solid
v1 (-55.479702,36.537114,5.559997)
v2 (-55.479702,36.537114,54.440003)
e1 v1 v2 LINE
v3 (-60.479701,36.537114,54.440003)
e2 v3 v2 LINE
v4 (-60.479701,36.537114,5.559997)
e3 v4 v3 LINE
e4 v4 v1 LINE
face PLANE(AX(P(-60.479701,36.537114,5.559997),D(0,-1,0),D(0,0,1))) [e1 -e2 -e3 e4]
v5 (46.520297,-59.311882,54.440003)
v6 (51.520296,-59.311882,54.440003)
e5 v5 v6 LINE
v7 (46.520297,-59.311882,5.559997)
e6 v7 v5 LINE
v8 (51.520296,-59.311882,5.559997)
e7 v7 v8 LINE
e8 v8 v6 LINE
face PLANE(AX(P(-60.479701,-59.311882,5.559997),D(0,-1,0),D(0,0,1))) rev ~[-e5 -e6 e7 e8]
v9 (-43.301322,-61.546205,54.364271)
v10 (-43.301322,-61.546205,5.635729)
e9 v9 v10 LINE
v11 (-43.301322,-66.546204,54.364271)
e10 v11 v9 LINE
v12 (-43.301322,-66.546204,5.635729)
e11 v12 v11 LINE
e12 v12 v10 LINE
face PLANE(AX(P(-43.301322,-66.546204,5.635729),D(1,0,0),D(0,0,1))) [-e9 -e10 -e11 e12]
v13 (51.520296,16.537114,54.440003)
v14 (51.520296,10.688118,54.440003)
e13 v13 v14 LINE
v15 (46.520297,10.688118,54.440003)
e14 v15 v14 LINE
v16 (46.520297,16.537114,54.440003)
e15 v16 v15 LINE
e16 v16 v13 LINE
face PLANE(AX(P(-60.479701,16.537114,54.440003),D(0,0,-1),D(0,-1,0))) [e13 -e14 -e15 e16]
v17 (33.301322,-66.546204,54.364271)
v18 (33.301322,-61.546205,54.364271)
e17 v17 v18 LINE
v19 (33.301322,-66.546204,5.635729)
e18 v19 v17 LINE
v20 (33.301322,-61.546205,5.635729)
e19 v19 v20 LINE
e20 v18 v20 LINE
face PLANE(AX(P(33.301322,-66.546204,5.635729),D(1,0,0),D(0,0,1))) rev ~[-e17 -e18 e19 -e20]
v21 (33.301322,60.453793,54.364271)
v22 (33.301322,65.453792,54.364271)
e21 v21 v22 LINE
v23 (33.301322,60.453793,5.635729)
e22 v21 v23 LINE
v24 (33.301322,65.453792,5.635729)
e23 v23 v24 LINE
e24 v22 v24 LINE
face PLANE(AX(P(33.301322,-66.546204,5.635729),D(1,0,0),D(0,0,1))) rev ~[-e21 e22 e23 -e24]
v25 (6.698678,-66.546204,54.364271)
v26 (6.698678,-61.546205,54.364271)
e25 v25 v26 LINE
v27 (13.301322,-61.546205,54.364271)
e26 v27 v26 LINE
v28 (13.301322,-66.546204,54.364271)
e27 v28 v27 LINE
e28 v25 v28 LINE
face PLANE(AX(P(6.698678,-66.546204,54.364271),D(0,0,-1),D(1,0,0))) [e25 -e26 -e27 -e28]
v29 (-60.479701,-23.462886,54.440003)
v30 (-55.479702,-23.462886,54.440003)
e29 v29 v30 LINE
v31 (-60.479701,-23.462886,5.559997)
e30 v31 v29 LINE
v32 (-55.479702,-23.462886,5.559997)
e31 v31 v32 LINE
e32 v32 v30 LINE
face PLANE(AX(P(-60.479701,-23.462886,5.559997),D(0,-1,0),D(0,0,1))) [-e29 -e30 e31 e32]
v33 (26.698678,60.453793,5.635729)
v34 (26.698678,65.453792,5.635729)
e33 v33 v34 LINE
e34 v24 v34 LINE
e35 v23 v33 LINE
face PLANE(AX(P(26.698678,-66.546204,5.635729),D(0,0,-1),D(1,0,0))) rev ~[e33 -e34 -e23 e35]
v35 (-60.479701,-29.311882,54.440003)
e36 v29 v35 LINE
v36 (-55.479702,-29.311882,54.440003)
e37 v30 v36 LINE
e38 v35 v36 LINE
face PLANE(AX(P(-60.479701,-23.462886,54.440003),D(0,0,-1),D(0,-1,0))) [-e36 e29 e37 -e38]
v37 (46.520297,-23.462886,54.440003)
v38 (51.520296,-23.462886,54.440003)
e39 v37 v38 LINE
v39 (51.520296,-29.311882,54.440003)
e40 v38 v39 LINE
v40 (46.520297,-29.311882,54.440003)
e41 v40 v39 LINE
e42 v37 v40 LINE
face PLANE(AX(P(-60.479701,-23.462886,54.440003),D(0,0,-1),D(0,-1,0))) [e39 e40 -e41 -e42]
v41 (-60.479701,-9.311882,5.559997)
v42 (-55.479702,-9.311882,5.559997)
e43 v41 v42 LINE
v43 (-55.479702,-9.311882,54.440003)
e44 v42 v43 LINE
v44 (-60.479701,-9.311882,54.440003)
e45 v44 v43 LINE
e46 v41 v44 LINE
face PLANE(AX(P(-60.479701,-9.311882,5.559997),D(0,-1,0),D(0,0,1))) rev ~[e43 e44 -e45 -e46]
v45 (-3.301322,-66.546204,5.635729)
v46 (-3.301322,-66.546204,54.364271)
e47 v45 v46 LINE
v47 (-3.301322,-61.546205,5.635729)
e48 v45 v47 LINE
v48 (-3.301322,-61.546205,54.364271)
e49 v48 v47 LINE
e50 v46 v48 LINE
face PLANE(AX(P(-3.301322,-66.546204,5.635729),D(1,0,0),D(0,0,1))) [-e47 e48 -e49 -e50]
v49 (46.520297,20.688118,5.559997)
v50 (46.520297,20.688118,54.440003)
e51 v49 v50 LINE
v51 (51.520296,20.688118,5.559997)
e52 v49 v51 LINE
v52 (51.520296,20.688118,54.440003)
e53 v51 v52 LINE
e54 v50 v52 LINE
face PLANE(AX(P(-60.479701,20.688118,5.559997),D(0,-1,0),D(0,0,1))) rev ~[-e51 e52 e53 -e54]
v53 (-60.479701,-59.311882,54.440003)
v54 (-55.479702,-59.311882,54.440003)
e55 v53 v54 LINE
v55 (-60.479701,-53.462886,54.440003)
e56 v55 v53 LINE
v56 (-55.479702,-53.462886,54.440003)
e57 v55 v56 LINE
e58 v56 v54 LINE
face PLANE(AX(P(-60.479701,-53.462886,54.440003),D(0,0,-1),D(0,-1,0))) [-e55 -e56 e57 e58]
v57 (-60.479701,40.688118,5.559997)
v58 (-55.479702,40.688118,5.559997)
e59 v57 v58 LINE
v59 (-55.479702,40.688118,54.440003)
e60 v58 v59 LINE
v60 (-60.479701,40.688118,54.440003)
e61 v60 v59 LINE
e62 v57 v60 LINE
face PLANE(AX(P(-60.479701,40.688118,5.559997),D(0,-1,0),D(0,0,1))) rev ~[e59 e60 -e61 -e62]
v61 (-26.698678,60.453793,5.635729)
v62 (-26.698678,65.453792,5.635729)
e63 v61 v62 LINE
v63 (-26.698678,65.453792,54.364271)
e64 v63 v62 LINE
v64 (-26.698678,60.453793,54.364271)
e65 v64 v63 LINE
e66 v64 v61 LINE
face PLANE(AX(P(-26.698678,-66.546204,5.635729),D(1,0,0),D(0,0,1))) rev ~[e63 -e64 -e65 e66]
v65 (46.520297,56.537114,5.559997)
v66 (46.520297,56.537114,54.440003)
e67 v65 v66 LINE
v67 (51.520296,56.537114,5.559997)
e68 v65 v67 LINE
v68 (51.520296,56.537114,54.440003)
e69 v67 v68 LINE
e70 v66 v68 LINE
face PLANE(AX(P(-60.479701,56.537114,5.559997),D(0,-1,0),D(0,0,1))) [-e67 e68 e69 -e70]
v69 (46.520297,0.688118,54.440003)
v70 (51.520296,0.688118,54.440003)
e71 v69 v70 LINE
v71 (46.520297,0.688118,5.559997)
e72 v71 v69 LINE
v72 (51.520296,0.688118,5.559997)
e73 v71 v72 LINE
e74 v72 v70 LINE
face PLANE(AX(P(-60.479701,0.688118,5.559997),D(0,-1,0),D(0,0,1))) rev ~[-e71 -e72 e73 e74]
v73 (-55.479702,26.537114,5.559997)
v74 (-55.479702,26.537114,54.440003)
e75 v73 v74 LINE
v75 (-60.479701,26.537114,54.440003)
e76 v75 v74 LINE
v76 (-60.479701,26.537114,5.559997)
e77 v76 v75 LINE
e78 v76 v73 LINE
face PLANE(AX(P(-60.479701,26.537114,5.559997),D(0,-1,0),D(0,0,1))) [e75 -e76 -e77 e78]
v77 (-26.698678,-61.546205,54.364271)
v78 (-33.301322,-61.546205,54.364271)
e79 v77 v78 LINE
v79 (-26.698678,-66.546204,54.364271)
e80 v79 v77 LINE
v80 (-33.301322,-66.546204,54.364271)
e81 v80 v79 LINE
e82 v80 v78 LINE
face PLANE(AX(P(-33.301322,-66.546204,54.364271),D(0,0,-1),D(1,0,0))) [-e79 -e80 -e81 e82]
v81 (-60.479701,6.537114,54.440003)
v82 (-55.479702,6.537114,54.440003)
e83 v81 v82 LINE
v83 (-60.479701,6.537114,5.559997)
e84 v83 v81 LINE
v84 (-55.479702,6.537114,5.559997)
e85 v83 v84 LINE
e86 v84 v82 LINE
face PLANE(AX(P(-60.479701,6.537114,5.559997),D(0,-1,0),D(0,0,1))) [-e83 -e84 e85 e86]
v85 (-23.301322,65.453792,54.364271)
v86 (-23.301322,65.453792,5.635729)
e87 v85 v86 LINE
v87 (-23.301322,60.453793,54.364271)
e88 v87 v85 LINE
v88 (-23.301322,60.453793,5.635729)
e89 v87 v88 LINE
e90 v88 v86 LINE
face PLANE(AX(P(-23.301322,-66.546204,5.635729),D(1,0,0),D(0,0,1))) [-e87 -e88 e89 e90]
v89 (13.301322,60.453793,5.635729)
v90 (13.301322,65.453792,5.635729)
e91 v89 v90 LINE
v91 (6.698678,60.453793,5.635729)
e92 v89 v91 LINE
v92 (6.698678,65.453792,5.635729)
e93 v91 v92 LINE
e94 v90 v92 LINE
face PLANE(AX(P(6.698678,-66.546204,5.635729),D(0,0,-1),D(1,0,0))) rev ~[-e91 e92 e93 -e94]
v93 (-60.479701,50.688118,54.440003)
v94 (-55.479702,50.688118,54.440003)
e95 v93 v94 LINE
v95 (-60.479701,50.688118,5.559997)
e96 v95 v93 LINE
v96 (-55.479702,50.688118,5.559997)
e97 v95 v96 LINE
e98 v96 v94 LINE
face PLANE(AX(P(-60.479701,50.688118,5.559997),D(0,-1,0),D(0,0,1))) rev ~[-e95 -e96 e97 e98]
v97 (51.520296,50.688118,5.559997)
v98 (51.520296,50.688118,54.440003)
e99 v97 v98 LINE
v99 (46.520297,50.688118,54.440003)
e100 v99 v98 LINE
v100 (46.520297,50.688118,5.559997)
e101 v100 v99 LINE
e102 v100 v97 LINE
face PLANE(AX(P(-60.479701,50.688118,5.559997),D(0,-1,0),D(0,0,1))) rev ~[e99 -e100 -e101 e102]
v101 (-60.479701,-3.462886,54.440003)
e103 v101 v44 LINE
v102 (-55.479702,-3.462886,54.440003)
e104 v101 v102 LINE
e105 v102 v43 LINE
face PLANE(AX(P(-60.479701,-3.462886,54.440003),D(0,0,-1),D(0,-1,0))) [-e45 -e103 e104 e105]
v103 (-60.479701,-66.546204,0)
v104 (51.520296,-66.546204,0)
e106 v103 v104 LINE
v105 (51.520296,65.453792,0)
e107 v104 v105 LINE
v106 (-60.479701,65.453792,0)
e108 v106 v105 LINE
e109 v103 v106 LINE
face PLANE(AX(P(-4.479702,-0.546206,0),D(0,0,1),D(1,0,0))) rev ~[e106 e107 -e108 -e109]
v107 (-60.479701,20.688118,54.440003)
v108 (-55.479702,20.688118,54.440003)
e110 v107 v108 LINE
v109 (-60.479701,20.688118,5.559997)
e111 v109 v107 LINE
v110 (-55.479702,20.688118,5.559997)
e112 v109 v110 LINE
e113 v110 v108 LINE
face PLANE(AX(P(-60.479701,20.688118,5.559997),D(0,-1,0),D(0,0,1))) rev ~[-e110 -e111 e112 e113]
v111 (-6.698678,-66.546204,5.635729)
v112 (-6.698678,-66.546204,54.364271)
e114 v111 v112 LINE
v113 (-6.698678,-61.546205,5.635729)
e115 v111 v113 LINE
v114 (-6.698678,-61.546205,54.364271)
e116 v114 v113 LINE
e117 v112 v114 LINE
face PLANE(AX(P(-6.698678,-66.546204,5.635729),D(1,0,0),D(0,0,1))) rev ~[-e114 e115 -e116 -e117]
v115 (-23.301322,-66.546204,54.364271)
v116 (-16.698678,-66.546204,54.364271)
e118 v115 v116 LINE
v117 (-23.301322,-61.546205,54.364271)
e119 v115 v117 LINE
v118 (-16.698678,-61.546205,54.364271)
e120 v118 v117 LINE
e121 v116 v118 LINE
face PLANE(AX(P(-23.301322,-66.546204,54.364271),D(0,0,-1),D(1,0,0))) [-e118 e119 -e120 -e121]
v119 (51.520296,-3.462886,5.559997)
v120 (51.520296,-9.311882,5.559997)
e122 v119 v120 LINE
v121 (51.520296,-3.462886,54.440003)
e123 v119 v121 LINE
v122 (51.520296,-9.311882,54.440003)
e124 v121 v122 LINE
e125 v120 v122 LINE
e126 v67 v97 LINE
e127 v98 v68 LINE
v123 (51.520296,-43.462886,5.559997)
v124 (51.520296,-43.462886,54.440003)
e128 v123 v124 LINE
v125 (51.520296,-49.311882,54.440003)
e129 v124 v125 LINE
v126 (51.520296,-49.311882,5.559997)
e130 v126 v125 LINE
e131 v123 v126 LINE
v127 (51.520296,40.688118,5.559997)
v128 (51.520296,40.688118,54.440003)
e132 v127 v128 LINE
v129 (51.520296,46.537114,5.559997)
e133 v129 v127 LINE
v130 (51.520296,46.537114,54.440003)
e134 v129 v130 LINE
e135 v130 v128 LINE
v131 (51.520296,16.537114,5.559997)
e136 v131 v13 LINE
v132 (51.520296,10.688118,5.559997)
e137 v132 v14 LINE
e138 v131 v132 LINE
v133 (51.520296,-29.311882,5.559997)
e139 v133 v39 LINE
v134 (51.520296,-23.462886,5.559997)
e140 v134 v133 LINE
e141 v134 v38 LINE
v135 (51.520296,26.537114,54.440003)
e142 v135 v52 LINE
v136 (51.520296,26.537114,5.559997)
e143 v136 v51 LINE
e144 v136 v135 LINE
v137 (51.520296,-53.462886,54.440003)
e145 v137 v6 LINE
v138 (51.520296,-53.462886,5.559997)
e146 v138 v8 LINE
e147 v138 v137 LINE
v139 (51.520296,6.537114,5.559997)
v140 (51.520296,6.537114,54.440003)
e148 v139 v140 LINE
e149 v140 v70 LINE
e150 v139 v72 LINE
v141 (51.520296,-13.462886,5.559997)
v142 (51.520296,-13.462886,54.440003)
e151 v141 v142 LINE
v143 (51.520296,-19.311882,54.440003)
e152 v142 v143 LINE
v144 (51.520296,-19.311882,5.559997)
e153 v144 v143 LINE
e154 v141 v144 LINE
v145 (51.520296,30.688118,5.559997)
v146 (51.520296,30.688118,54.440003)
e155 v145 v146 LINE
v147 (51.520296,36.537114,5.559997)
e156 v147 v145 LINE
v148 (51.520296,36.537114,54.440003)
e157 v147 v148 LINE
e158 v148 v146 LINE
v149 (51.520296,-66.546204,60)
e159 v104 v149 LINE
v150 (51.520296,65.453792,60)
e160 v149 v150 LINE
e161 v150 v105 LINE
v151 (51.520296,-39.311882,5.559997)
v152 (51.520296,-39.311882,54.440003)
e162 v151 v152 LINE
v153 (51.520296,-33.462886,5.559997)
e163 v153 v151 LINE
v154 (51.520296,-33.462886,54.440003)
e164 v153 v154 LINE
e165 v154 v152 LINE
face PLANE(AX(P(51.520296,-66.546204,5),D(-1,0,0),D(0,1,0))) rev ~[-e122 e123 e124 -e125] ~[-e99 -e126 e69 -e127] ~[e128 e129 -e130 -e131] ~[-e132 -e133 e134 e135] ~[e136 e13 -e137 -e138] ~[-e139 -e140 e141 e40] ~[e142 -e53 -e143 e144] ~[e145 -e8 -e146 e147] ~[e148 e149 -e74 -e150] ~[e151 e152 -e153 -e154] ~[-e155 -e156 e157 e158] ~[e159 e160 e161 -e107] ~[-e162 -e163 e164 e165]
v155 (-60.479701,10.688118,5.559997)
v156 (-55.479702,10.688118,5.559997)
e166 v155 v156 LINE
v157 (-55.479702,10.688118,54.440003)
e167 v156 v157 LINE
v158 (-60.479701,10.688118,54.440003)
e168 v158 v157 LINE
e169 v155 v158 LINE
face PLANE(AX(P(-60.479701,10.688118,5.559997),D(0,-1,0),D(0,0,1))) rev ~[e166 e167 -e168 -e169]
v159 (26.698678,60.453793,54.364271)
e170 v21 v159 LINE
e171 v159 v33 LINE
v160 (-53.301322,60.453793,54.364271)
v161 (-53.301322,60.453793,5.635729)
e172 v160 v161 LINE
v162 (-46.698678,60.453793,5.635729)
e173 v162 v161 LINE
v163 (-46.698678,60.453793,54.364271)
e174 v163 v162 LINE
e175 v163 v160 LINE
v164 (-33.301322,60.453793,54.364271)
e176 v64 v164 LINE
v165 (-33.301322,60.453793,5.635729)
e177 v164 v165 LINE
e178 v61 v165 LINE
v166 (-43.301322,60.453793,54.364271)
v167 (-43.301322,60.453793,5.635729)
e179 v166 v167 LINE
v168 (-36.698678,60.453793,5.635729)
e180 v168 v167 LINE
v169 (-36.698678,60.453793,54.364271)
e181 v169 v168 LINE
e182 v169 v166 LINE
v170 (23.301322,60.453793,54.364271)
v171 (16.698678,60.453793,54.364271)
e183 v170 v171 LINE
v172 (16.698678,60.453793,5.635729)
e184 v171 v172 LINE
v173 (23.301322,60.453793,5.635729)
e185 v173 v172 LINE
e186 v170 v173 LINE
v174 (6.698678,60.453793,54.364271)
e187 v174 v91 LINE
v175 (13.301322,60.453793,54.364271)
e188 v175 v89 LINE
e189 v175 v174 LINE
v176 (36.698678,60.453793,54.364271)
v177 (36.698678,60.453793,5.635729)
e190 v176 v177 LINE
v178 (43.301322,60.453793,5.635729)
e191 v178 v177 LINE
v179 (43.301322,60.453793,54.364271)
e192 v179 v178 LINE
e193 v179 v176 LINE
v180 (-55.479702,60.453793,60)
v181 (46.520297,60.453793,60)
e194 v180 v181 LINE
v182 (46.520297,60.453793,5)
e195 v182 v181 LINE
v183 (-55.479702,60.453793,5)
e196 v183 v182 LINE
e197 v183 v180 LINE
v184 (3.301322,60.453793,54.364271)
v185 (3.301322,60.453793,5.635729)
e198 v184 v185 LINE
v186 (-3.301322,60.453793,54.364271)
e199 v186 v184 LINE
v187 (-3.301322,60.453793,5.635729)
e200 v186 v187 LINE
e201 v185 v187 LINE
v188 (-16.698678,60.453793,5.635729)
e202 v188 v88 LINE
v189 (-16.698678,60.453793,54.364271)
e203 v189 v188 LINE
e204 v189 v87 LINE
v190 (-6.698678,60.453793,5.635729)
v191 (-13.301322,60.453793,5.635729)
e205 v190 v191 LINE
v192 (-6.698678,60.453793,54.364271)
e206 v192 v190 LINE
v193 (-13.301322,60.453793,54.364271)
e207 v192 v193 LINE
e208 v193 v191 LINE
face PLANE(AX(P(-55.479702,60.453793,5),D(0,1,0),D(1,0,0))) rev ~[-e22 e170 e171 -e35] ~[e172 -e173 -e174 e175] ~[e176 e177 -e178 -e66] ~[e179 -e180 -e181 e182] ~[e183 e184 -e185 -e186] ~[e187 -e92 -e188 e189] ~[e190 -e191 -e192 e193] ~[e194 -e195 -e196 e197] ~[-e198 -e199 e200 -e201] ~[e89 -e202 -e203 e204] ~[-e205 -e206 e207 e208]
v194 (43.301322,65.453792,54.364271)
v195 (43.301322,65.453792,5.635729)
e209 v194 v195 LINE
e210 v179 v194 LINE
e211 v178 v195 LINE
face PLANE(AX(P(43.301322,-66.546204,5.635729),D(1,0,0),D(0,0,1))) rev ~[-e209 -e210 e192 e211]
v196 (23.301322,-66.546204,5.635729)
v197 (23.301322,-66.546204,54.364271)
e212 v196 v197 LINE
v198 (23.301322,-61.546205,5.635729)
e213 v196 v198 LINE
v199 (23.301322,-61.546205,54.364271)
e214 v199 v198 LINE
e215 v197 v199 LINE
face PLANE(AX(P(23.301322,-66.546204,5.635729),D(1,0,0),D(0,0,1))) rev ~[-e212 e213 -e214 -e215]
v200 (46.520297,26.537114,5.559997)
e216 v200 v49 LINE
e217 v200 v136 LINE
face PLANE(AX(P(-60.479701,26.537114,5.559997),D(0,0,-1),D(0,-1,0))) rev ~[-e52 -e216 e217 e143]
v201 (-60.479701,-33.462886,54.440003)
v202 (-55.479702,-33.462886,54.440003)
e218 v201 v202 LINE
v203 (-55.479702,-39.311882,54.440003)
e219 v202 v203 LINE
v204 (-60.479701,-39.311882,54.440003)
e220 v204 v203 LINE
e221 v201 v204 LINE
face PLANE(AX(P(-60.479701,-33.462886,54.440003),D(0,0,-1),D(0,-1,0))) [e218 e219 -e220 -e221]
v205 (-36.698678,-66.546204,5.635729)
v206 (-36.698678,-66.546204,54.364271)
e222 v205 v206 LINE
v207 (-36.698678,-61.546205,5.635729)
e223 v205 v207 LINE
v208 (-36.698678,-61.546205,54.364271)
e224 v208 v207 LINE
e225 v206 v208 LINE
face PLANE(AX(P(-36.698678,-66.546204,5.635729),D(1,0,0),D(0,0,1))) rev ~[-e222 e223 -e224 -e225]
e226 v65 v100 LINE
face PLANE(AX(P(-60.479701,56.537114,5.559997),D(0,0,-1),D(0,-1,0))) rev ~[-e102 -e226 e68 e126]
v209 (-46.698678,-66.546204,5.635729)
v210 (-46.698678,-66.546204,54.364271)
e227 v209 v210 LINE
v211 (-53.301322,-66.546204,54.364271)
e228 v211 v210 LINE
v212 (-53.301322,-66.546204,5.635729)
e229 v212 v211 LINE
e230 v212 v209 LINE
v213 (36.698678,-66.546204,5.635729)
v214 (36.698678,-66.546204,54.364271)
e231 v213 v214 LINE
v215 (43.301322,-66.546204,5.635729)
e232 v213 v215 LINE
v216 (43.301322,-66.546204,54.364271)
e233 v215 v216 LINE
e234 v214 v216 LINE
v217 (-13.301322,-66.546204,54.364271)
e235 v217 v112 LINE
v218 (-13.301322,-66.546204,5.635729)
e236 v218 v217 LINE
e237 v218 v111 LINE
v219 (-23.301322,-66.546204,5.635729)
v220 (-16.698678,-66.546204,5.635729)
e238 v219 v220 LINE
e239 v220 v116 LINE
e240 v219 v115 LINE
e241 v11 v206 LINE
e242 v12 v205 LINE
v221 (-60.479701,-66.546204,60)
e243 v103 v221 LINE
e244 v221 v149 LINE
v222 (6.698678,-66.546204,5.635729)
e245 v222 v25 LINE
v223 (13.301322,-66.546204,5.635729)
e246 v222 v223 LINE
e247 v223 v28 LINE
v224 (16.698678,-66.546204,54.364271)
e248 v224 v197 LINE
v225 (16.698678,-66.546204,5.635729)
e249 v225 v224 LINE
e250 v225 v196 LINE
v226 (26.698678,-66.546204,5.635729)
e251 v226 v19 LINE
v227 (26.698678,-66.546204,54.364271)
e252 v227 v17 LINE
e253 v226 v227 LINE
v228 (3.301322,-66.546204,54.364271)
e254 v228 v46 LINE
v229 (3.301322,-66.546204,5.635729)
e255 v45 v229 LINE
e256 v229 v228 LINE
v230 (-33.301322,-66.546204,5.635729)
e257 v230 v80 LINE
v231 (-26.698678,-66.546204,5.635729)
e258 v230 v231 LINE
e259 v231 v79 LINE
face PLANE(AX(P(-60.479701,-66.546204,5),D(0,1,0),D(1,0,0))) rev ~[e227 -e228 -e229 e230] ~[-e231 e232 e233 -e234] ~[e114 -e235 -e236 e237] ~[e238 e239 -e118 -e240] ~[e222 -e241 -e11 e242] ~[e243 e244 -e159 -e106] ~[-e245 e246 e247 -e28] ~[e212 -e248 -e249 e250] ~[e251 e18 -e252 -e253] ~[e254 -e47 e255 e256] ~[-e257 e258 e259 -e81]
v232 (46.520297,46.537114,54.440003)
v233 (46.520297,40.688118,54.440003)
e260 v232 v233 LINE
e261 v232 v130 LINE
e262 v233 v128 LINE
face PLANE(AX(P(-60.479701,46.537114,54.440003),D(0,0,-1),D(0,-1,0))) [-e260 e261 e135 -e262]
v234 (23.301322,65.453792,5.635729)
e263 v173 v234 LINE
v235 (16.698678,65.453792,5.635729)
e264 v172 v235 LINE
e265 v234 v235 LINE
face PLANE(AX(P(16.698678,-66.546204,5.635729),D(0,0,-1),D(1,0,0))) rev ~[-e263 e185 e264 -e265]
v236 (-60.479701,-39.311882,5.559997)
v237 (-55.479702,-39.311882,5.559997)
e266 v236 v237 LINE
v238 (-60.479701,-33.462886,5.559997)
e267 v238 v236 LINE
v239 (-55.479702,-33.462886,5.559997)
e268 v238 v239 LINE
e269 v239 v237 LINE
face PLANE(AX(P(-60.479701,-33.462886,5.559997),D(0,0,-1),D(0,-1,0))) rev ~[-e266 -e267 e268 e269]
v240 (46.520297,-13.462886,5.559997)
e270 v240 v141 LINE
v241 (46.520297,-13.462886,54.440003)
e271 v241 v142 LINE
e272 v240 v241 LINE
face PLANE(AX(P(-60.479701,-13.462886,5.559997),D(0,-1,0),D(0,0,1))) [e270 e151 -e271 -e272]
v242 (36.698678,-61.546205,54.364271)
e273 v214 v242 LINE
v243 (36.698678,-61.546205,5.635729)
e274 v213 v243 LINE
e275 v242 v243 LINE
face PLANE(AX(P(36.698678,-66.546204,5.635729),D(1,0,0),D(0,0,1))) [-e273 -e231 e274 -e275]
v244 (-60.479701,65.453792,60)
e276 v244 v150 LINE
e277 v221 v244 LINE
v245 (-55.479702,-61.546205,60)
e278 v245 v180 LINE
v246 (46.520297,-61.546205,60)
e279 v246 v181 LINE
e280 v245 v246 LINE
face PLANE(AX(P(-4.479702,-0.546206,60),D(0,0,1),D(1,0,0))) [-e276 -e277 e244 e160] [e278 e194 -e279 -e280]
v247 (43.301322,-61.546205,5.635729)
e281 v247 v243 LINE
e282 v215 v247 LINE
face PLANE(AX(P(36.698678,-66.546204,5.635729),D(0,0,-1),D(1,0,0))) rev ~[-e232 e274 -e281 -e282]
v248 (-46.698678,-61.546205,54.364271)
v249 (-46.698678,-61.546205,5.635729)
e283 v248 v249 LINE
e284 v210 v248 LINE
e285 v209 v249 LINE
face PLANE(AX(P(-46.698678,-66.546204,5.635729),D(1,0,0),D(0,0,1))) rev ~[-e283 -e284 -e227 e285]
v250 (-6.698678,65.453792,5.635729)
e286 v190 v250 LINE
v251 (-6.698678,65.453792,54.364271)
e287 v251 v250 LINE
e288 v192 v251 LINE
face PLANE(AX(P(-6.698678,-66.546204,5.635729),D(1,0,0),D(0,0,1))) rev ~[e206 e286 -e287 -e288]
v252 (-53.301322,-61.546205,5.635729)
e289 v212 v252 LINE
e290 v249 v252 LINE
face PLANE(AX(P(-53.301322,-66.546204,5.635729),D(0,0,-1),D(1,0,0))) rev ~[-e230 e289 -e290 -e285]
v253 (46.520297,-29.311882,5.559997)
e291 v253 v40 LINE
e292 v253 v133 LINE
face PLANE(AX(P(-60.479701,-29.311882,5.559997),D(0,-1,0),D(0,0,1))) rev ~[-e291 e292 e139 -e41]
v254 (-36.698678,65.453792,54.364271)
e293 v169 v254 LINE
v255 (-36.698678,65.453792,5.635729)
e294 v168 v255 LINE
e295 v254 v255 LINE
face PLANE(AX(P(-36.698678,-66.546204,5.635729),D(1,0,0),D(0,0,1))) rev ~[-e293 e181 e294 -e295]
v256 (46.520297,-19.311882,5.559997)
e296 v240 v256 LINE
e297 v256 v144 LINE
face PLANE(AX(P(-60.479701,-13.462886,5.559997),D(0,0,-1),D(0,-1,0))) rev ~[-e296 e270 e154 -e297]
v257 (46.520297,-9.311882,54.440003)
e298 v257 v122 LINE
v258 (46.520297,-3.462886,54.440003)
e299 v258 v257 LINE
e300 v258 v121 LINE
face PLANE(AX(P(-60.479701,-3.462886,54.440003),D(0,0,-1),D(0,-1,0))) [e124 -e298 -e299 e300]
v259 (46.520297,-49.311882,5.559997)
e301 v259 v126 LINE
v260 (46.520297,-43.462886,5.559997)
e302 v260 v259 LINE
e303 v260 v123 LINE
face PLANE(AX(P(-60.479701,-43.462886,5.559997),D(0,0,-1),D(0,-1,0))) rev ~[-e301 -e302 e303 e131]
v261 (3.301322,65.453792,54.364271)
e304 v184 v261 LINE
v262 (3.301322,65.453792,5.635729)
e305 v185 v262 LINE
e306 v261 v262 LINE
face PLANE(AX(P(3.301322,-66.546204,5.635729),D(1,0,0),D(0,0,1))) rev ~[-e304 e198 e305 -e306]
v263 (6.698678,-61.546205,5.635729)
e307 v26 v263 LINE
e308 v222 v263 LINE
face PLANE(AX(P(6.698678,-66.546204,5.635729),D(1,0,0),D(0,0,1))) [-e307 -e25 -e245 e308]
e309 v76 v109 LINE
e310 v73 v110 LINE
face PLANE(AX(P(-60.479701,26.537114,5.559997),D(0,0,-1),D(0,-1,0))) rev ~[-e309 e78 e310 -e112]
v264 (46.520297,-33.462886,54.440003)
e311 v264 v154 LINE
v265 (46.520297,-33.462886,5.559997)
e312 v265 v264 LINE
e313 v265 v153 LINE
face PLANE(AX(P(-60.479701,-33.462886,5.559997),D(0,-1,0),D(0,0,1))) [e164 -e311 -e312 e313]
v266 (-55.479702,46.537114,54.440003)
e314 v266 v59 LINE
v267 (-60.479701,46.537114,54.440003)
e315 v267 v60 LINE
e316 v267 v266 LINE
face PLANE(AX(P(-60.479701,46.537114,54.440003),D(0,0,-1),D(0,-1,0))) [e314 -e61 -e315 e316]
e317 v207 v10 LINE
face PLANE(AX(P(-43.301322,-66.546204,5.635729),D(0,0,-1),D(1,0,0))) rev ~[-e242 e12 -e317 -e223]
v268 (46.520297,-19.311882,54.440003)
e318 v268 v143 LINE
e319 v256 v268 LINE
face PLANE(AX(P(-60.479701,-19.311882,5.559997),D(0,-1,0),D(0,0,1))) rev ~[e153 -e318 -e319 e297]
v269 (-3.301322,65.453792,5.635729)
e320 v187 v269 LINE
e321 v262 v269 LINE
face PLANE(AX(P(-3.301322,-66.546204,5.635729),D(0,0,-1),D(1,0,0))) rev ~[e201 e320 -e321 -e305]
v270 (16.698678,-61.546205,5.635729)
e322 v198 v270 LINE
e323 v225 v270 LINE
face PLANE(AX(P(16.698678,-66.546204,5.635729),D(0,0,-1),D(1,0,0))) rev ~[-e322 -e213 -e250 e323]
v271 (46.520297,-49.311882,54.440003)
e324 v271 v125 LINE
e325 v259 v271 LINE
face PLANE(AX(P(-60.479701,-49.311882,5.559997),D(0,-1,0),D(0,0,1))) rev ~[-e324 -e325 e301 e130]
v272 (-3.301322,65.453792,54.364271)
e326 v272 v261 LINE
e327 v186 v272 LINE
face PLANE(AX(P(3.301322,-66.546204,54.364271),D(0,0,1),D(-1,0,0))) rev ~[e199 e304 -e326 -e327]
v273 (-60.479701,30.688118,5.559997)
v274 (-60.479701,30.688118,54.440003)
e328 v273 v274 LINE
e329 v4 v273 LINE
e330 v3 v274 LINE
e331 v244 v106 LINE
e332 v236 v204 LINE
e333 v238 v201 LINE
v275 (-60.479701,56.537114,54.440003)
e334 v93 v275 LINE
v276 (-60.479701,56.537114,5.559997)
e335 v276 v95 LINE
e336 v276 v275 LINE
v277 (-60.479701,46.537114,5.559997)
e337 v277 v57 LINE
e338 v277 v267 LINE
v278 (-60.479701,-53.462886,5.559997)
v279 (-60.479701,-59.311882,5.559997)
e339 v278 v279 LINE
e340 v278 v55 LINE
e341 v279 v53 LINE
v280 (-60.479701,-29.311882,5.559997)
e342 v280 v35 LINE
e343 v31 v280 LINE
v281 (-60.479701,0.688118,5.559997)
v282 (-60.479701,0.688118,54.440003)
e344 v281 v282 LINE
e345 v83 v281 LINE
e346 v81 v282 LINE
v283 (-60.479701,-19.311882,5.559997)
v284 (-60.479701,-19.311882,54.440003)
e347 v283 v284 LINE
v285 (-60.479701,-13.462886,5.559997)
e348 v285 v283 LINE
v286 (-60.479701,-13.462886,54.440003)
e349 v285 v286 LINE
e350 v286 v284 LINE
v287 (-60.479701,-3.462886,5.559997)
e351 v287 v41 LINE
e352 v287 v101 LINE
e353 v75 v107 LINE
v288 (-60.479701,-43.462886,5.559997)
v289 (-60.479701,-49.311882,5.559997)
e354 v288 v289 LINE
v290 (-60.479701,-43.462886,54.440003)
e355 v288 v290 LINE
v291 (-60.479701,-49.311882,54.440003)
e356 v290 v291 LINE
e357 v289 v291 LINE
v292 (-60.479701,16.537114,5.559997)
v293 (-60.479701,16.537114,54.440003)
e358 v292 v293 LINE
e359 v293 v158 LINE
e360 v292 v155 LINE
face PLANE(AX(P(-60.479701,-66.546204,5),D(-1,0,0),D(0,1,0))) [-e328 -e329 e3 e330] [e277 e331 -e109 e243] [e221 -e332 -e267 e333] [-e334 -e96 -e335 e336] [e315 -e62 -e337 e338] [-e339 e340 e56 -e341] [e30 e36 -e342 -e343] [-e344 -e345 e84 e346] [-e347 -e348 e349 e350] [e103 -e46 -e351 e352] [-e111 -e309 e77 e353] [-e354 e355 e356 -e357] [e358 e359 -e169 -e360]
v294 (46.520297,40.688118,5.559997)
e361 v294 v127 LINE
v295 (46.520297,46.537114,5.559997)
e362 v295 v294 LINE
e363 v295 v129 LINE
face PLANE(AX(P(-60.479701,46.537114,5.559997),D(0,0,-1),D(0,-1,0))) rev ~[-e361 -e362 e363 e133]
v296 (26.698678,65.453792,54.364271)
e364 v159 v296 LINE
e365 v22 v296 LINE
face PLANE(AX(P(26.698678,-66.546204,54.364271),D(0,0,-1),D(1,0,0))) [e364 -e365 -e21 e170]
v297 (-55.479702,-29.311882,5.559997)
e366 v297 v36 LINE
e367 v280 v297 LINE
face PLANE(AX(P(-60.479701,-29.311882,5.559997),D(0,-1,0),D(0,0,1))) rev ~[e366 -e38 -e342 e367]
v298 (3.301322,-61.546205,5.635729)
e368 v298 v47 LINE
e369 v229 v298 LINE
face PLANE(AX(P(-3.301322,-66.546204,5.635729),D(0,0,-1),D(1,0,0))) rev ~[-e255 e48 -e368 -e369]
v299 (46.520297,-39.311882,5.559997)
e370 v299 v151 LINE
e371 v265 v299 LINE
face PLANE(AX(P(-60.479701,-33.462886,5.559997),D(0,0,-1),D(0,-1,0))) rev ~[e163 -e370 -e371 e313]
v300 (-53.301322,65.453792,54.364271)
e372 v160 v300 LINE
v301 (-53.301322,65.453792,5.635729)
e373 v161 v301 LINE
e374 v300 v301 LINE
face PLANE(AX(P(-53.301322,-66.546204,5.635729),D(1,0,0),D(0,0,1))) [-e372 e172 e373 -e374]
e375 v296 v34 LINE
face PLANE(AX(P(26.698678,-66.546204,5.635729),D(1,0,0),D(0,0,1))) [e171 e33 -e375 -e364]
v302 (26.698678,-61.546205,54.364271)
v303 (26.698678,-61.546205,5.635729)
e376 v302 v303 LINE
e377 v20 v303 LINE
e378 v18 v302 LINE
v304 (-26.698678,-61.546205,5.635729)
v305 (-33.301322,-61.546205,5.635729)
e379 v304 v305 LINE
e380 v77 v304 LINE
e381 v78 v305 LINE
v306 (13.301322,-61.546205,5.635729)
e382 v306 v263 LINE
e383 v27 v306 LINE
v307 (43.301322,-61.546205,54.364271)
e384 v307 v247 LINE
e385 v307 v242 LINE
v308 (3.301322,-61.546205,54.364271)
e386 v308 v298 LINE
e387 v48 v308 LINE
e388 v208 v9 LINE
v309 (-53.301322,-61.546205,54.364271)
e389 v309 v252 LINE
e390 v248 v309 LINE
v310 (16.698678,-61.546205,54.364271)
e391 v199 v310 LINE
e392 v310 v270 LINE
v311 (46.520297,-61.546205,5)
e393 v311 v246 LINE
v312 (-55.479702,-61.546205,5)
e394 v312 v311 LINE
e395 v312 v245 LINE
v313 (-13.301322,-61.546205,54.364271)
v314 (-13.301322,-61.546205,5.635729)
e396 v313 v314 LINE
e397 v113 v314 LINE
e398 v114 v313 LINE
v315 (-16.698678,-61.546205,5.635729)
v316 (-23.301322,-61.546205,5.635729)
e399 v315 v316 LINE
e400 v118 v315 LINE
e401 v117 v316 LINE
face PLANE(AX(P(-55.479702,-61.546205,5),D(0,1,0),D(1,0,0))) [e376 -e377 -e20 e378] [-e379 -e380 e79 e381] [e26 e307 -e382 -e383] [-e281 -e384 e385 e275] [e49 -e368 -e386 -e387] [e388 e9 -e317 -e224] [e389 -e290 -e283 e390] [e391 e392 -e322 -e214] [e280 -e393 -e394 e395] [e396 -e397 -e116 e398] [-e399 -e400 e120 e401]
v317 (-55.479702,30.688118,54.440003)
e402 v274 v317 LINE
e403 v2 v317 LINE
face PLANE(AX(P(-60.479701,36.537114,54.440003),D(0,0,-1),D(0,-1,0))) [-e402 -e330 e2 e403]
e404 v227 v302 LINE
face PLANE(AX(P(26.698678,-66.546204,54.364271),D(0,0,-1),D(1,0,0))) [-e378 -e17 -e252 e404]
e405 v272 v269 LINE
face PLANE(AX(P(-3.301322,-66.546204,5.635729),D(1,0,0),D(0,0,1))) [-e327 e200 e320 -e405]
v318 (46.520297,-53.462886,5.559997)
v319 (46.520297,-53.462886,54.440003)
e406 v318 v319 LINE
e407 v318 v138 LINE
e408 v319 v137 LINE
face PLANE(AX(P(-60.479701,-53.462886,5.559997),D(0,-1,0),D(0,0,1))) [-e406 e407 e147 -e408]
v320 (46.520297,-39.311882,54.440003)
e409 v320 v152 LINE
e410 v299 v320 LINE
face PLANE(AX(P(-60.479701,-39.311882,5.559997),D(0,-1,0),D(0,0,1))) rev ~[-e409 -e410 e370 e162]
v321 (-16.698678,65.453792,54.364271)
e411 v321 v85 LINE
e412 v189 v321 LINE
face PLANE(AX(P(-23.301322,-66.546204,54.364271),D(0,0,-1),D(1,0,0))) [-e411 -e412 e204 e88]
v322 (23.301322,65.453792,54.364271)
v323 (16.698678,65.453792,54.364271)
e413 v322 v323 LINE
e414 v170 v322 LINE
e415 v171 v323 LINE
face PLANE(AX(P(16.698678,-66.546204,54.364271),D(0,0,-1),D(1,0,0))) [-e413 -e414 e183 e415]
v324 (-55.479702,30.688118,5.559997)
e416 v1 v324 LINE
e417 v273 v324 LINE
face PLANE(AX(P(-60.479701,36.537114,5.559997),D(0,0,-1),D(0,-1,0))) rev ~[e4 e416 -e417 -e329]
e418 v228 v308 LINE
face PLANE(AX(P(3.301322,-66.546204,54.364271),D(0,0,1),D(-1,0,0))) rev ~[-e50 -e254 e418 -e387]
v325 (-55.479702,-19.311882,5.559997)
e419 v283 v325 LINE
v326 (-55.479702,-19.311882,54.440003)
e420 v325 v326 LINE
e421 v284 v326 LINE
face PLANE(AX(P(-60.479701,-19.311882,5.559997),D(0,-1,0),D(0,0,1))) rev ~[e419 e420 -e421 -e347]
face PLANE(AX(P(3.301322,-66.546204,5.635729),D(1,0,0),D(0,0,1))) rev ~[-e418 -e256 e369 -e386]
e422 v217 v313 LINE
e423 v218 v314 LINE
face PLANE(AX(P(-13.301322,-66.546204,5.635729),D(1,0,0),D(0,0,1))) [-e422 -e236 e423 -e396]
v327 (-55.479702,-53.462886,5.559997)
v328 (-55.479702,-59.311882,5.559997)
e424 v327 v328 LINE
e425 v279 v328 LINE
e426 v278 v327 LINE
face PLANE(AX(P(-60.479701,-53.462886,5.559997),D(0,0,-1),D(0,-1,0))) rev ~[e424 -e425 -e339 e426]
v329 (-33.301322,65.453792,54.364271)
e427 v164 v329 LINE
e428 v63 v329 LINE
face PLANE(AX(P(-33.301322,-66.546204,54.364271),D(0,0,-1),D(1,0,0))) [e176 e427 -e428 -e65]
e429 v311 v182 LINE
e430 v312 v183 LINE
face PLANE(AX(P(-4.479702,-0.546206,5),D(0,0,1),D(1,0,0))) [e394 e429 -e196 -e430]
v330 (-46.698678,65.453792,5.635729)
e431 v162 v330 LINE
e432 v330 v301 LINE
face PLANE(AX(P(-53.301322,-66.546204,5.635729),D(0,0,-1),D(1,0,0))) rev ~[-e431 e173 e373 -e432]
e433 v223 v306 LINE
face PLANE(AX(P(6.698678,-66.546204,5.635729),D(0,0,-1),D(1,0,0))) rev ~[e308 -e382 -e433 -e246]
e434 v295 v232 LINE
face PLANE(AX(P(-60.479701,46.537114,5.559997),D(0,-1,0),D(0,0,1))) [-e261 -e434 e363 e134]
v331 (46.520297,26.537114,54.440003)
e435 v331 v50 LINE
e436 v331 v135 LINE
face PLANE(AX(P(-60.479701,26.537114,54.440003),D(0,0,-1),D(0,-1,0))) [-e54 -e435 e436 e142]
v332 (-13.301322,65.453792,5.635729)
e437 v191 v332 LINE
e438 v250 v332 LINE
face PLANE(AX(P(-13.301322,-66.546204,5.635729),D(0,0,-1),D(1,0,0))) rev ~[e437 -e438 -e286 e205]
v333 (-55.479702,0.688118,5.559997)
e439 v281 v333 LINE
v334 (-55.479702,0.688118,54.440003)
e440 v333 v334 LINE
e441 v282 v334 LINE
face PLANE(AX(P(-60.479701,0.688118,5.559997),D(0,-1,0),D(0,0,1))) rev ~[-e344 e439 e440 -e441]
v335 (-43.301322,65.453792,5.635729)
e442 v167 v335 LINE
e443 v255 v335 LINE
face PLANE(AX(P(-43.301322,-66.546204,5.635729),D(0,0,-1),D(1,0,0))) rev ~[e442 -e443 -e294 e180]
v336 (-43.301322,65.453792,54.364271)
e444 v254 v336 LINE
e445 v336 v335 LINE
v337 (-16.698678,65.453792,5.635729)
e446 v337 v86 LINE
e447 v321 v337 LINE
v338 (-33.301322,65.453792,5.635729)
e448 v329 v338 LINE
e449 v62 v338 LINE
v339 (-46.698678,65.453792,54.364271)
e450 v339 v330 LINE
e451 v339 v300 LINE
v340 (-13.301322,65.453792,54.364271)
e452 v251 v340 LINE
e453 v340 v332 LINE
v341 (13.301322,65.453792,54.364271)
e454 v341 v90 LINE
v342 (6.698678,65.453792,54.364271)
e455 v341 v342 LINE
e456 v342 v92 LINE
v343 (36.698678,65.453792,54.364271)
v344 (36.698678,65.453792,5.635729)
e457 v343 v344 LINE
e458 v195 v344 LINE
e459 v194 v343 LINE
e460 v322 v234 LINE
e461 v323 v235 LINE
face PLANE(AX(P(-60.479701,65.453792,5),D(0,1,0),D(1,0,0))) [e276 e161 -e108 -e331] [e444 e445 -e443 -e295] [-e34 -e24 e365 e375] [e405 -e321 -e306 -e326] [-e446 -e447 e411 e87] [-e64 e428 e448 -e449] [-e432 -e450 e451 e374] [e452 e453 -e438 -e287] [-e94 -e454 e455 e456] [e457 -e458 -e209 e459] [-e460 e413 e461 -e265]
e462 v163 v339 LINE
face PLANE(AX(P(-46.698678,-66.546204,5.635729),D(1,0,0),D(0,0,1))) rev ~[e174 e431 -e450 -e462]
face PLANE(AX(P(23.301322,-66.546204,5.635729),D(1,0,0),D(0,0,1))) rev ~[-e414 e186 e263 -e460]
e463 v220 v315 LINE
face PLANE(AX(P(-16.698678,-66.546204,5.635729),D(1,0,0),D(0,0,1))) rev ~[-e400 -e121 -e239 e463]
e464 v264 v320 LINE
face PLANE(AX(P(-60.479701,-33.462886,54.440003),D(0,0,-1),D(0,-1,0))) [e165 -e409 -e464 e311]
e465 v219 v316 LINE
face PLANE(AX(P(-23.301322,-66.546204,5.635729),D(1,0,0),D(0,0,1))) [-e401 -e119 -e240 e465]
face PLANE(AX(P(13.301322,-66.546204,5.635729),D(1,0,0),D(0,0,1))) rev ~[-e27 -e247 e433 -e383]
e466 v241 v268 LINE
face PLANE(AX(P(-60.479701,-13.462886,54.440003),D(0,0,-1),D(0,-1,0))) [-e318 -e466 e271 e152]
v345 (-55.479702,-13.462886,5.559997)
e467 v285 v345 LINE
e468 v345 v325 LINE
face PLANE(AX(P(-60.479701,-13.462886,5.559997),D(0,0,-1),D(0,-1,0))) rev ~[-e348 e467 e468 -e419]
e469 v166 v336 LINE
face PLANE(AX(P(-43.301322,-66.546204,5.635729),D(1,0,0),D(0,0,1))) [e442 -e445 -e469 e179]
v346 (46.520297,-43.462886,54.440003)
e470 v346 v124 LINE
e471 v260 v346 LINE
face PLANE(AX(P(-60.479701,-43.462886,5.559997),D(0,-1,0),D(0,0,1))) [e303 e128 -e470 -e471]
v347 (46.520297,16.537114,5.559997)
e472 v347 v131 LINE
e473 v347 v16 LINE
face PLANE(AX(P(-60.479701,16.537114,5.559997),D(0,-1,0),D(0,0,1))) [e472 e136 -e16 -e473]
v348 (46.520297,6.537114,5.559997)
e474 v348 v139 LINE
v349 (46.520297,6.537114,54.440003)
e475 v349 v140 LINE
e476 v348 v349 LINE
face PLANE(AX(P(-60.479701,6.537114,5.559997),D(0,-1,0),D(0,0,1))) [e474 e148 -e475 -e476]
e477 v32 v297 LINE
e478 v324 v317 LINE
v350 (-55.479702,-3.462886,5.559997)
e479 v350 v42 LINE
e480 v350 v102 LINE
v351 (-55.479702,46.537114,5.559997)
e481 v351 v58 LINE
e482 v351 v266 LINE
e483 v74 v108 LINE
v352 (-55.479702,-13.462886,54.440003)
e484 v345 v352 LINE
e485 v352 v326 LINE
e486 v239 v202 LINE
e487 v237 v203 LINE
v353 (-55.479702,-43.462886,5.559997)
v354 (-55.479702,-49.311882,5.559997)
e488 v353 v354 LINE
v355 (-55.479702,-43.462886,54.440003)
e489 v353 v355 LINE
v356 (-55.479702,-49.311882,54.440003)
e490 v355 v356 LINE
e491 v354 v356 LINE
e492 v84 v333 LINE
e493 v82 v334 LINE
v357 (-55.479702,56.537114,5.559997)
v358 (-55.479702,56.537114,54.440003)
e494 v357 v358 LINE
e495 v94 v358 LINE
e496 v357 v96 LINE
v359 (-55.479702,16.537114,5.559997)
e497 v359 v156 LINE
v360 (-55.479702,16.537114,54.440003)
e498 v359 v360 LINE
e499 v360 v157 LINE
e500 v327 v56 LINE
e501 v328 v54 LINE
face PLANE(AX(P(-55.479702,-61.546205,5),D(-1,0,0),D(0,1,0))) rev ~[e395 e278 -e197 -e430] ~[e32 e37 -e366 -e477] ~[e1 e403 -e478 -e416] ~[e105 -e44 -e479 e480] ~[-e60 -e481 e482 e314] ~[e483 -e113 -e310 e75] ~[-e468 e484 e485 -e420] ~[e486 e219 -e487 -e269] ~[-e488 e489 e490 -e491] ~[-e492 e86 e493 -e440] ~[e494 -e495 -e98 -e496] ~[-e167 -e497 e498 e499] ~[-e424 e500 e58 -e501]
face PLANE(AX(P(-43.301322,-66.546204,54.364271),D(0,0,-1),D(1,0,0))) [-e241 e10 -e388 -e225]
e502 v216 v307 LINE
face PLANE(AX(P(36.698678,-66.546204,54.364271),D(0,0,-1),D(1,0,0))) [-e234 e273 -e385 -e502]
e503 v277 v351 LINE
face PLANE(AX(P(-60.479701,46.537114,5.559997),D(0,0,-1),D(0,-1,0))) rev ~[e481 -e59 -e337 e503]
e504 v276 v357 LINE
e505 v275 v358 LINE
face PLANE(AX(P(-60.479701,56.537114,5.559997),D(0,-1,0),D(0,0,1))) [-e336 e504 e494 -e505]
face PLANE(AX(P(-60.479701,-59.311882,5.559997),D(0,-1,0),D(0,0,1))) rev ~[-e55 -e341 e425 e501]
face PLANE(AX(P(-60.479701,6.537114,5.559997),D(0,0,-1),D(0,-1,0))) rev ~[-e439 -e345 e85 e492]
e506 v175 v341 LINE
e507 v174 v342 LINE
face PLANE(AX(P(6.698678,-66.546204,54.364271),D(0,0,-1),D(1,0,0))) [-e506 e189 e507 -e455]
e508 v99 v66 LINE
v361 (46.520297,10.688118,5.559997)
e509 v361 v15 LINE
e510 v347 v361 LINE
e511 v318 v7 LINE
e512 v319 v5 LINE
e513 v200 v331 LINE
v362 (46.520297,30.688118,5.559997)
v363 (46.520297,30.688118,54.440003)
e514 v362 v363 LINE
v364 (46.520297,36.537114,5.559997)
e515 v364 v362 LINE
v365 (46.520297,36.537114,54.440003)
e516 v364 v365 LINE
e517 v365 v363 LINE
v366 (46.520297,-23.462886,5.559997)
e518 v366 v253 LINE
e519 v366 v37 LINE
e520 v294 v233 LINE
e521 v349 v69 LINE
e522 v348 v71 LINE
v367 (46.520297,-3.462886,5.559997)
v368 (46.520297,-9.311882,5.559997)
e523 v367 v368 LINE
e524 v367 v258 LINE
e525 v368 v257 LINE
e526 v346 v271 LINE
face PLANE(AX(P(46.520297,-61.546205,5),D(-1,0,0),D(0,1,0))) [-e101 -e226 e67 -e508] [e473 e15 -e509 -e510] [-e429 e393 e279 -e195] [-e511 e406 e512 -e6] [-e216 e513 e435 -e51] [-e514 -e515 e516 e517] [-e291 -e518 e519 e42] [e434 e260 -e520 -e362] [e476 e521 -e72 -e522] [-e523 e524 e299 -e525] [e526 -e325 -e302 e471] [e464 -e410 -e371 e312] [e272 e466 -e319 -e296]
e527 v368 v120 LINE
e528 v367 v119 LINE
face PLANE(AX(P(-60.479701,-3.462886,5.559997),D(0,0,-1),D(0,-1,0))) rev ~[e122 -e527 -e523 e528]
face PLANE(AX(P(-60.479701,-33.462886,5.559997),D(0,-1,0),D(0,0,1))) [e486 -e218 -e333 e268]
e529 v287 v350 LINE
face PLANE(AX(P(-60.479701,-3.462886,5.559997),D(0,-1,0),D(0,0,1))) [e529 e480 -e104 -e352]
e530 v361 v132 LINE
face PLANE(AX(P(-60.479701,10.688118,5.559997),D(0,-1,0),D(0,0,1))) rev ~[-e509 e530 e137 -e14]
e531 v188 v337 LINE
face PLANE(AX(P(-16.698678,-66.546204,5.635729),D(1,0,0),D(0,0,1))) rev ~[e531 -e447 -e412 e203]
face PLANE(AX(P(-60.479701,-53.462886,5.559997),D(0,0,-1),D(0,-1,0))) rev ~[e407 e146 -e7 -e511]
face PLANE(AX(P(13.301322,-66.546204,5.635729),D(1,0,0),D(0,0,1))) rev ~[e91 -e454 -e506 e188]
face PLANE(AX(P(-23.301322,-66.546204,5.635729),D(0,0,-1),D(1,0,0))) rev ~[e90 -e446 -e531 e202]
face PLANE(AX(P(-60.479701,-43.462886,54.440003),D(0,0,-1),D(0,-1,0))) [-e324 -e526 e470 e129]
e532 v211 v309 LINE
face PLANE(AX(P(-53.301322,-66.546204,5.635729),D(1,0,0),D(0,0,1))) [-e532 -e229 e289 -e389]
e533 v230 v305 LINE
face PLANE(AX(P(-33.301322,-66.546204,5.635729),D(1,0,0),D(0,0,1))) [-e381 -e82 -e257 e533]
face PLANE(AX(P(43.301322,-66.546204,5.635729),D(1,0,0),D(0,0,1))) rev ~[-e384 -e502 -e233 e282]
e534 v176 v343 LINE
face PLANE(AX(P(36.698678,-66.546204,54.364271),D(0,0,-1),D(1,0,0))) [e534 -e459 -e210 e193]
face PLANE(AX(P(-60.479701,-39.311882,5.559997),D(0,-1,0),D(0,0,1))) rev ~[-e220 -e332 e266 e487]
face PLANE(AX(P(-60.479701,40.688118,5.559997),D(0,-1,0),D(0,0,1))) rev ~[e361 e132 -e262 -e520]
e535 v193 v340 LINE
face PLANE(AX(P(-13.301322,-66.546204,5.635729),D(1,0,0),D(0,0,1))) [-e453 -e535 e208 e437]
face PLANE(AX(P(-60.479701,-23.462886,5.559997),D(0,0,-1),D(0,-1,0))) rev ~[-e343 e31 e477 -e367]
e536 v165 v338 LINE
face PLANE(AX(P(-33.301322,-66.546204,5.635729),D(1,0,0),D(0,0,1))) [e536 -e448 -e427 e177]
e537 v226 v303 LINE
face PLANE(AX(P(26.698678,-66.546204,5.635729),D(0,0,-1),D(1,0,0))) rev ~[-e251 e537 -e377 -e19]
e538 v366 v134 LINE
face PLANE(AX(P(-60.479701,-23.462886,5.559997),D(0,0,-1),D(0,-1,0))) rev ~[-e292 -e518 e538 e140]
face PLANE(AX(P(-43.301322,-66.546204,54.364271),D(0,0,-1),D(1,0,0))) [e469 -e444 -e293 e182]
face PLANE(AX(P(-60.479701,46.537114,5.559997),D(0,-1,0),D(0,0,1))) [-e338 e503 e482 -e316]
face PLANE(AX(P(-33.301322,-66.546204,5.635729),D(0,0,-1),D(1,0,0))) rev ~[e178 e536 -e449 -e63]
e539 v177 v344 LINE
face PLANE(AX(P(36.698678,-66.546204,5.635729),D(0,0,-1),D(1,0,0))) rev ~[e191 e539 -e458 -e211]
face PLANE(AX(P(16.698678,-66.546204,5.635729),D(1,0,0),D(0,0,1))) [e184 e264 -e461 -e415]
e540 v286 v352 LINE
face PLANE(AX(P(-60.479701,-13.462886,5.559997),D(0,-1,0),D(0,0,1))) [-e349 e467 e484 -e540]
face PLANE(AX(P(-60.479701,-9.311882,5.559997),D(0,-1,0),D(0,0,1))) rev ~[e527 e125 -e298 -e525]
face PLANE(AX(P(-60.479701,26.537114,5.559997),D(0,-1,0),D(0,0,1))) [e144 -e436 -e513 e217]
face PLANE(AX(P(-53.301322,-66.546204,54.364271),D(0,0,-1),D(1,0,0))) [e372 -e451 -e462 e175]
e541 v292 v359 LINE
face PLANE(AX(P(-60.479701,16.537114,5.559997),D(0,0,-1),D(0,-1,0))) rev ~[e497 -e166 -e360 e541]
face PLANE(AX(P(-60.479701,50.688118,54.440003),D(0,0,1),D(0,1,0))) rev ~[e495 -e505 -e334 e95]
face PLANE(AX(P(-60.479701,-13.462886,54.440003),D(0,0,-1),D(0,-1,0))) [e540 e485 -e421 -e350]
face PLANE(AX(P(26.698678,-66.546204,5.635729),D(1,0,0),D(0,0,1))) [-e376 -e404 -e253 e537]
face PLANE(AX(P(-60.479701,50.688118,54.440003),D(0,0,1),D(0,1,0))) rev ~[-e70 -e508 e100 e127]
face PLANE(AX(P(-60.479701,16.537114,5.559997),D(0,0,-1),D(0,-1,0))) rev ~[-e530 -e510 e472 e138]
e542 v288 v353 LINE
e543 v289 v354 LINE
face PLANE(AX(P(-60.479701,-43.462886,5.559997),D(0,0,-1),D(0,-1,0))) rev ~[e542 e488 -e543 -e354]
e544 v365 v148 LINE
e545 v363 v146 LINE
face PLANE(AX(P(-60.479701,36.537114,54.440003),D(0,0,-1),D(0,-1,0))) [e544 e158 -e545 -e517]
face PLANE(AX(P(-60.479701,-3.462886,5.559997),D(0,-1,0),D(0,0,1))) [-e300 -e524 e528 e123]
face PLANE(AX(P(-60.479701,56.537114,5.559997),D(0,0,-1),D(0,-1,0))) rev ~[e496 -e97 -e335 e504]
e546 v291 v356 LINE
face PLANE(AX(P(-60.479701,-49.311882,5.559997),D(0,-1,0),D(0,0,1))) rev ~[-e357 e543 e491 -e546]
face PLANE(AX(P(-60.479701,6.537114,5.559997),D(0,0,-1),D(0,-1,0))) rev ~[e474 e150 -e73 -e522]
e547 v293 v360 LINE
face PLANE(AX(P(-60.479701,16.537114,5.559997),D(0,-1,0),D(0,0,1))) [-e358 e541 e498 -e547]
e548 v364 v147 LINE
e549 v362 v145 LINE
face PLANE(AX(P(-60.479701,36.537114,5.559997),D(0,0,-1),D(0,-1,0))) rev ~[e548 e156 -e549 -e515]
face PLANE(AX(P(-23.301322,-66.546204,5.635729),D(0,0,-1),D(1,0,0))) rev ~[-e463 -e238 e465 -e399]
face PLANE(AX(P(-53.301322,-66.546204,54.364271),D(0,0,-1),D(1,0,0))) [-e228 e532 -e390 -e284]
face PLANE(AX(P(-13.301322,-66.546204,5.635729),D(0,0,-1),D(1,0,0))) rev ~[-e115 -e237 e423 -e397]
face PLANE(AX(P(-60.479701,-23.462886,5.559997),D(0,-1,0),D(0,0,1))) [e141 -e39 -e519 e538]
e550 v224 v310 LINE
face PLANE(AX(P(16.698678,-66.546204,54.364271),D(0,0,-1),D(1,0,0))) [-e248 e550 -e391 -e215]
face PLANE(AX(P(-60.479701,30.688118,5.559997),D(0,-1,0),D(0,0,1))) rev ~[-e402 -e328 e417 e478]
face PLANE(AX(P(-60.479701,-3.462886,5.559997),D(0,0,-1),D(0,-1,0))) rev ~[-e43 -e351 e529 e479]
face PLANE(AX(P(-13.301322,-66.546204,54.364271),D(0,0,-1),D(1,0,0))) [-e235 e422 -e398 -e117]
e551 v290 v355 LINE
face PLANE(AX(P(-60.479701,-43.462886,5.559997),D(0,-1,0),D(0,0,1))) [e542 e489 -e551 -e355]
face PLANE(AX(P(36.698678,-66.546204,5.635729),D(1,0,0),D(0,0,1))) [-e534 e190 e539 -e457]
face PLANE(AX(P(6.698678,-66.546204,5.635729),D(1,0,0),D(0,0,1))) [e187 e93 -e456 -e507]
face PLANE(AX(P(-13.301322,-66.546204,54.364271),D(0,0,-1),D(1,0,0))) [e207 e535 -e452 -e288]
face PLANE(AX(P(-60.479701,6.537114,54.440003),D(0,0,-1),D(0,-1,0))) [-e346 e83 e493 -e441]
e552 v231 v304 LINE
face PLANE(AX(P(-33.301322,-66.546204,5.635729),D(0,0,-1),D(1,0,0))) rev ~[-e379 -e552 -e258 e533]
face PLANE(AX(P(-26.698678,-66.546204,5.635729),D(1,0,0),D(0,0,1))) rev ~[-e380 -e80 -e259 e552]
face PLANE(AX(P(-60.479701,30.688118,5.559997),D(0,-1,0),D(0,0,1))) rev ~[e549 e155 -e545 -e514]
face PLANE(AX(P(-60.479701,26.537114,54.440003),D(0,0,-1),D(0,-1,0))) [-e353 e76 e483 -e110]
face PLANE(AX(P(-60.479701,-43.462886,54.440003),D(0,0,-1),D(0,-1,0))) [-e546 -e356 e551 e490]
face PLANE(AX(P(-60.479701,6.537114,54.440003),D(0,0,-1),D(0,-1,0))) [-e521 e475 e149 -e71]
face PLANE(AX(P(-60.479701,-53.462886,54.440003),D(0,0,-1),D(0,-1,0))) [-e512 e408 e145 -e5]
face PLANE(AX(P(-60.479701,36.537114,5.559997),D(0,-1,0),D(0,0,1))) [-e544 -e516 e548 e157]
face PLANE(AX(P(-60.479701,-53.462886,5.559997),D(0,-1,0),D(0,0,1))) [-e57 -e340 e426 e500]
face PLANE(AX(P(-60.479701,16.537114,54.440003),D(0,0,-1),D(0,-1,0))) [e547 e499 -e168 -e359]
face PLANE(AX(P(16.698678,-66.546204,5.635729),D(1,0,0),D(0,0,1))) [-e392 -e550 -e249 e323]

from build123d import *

# Parameters (mm, degrees)
F1_W     = 111.9999963282
F1_H     = 131.9999963282
F2_DEPTH = 5
F3_W     = 111.9999963282
F3_H     = 131.9999963282
F3_W_2   = 101.9999984144
F3_H_2   = 121.9999984144
F4_DEPTH = 55
F5_W     = 3.3013222273
F5_H     = 48.7285429239
F5_W_2   = 6.6026444547
F6_DEPTH = 200
F7_W     = 2.9244981706
F7_H     = 48.8800057769
F7_W_2   = 5.8489963412
F8_DEPTH = 200


with BuildPart() as f2:
    # F1 (on face) → F2 (new body)
    with BuildSketch(Plane.XY):
        with Locations((-4.4797024012, -0.5462057889)):
            Rectangle(F1_W, F1_H)
    extrude(amount=F2_DEPTH)

    # F3 (on face) → F4 (join)
    with BuildSketch(Plane.XY.offset(5)):
        with Locations((-4.4797024012, -0.5462057889)):
            Rectangle(F3_W, F3_H)
        with Locations((-4.4797024012, -0.5462057889)):
            Rectangle(F3_W_2, F3_H_2, mode=Mode.SUBTRACT)
    extrude(amount=F4_DEPTH)

    # F5 (on face) → F6 (cut)
    with BuildSketch(Plane.XZ.offset(66.546203953)):
        with Locations((-1.6506611137, 30)):
            Rectangle(F5_W, F5_H)
        with Locations((1.6506611137, 30)):
            Rectangle(F5_W, F5_H)
        with Locations((10, 30)):
            Rectangle(F5_W_2, F5_H)
        with Locations((20, 30)):
            Rectangle(F5_W_2, F5_H)
        with Locations((30, 30)):
            Rectangle(F5_W_2, F5_H)
        with Locations((40, 30)):
            Rectangle(F5_W_2, F5_H)
        with Locations((-10, 30)):
            Rectangle(F5_W_2, F5_H)
        with Locations((-20, 30)):
            Rectangle(F5_W_2, F5_H)
        with Locations((-30, 30)):
            Rectangle(F5_W_2, F5_H)
        with Locations((-40, 30)):
            Rectangle(F5_W_2, F5_H)
        with Locations((-50, 30)):
            Rectangle(F5_W_2, F5_H)
    extrude(amount=-F6_DEPTH, mode=Mode.SUBTRACT)

    # F7 (on face) → F8 (cut)
    with BuildSketch(Plane(origin=(-60.4797005653, 0, 0), x_dir=(0, -1, 0), z_dir=(-1, 0, 0))):
        with Locations((-55.0748649985, 30)):
            Rectangle(F7_W, F7_H)
        with Locations((-52.1503668278, 30)):
            Rectangle(F7_W, F7_H)
        with Locations((-43.6126159132, 30)):
            Rectangle(F7_W_2, F7_H)
        with Locations((-33.6126159132, 30)):
            Rectangle(F7_W_2, F7_H)
        with Locations((-23.6126159132, 30)):
            Rectangle(F7_W_2, F7_H)
        with Locations((-13.6126159132, 30)):
            Rectangle(F7_W_2, F7_H)
        with Locations((-3.6126159132, 30)):
            Rectangle(F7_W_2, F7_H)
        with Locations((6.3873840868, 30)):
            Rectangle(F7_W_2, F7_H)
        with Locations((16.3873840868, 30)):
            Rectangle(F7_W_2, F7_H)
        with Locations((26.3873840868, 30)):
            Rectangle(F7_W_2, F7_H)
        with Locations((36.3873840868, 30)):
            Rectangle(F7_W_2, F7_H)
        with Locations((46.3873840868, 30)):
            Rectangle(F7_W_2, F7_H)
        with Locations((56.3873840868, 30)):
            Rectangle(F7_W_2, F7_H)
    extrude(amount=-F8_DEPTH, mode=Mode.SUBTRACT)


solid = f2.part
